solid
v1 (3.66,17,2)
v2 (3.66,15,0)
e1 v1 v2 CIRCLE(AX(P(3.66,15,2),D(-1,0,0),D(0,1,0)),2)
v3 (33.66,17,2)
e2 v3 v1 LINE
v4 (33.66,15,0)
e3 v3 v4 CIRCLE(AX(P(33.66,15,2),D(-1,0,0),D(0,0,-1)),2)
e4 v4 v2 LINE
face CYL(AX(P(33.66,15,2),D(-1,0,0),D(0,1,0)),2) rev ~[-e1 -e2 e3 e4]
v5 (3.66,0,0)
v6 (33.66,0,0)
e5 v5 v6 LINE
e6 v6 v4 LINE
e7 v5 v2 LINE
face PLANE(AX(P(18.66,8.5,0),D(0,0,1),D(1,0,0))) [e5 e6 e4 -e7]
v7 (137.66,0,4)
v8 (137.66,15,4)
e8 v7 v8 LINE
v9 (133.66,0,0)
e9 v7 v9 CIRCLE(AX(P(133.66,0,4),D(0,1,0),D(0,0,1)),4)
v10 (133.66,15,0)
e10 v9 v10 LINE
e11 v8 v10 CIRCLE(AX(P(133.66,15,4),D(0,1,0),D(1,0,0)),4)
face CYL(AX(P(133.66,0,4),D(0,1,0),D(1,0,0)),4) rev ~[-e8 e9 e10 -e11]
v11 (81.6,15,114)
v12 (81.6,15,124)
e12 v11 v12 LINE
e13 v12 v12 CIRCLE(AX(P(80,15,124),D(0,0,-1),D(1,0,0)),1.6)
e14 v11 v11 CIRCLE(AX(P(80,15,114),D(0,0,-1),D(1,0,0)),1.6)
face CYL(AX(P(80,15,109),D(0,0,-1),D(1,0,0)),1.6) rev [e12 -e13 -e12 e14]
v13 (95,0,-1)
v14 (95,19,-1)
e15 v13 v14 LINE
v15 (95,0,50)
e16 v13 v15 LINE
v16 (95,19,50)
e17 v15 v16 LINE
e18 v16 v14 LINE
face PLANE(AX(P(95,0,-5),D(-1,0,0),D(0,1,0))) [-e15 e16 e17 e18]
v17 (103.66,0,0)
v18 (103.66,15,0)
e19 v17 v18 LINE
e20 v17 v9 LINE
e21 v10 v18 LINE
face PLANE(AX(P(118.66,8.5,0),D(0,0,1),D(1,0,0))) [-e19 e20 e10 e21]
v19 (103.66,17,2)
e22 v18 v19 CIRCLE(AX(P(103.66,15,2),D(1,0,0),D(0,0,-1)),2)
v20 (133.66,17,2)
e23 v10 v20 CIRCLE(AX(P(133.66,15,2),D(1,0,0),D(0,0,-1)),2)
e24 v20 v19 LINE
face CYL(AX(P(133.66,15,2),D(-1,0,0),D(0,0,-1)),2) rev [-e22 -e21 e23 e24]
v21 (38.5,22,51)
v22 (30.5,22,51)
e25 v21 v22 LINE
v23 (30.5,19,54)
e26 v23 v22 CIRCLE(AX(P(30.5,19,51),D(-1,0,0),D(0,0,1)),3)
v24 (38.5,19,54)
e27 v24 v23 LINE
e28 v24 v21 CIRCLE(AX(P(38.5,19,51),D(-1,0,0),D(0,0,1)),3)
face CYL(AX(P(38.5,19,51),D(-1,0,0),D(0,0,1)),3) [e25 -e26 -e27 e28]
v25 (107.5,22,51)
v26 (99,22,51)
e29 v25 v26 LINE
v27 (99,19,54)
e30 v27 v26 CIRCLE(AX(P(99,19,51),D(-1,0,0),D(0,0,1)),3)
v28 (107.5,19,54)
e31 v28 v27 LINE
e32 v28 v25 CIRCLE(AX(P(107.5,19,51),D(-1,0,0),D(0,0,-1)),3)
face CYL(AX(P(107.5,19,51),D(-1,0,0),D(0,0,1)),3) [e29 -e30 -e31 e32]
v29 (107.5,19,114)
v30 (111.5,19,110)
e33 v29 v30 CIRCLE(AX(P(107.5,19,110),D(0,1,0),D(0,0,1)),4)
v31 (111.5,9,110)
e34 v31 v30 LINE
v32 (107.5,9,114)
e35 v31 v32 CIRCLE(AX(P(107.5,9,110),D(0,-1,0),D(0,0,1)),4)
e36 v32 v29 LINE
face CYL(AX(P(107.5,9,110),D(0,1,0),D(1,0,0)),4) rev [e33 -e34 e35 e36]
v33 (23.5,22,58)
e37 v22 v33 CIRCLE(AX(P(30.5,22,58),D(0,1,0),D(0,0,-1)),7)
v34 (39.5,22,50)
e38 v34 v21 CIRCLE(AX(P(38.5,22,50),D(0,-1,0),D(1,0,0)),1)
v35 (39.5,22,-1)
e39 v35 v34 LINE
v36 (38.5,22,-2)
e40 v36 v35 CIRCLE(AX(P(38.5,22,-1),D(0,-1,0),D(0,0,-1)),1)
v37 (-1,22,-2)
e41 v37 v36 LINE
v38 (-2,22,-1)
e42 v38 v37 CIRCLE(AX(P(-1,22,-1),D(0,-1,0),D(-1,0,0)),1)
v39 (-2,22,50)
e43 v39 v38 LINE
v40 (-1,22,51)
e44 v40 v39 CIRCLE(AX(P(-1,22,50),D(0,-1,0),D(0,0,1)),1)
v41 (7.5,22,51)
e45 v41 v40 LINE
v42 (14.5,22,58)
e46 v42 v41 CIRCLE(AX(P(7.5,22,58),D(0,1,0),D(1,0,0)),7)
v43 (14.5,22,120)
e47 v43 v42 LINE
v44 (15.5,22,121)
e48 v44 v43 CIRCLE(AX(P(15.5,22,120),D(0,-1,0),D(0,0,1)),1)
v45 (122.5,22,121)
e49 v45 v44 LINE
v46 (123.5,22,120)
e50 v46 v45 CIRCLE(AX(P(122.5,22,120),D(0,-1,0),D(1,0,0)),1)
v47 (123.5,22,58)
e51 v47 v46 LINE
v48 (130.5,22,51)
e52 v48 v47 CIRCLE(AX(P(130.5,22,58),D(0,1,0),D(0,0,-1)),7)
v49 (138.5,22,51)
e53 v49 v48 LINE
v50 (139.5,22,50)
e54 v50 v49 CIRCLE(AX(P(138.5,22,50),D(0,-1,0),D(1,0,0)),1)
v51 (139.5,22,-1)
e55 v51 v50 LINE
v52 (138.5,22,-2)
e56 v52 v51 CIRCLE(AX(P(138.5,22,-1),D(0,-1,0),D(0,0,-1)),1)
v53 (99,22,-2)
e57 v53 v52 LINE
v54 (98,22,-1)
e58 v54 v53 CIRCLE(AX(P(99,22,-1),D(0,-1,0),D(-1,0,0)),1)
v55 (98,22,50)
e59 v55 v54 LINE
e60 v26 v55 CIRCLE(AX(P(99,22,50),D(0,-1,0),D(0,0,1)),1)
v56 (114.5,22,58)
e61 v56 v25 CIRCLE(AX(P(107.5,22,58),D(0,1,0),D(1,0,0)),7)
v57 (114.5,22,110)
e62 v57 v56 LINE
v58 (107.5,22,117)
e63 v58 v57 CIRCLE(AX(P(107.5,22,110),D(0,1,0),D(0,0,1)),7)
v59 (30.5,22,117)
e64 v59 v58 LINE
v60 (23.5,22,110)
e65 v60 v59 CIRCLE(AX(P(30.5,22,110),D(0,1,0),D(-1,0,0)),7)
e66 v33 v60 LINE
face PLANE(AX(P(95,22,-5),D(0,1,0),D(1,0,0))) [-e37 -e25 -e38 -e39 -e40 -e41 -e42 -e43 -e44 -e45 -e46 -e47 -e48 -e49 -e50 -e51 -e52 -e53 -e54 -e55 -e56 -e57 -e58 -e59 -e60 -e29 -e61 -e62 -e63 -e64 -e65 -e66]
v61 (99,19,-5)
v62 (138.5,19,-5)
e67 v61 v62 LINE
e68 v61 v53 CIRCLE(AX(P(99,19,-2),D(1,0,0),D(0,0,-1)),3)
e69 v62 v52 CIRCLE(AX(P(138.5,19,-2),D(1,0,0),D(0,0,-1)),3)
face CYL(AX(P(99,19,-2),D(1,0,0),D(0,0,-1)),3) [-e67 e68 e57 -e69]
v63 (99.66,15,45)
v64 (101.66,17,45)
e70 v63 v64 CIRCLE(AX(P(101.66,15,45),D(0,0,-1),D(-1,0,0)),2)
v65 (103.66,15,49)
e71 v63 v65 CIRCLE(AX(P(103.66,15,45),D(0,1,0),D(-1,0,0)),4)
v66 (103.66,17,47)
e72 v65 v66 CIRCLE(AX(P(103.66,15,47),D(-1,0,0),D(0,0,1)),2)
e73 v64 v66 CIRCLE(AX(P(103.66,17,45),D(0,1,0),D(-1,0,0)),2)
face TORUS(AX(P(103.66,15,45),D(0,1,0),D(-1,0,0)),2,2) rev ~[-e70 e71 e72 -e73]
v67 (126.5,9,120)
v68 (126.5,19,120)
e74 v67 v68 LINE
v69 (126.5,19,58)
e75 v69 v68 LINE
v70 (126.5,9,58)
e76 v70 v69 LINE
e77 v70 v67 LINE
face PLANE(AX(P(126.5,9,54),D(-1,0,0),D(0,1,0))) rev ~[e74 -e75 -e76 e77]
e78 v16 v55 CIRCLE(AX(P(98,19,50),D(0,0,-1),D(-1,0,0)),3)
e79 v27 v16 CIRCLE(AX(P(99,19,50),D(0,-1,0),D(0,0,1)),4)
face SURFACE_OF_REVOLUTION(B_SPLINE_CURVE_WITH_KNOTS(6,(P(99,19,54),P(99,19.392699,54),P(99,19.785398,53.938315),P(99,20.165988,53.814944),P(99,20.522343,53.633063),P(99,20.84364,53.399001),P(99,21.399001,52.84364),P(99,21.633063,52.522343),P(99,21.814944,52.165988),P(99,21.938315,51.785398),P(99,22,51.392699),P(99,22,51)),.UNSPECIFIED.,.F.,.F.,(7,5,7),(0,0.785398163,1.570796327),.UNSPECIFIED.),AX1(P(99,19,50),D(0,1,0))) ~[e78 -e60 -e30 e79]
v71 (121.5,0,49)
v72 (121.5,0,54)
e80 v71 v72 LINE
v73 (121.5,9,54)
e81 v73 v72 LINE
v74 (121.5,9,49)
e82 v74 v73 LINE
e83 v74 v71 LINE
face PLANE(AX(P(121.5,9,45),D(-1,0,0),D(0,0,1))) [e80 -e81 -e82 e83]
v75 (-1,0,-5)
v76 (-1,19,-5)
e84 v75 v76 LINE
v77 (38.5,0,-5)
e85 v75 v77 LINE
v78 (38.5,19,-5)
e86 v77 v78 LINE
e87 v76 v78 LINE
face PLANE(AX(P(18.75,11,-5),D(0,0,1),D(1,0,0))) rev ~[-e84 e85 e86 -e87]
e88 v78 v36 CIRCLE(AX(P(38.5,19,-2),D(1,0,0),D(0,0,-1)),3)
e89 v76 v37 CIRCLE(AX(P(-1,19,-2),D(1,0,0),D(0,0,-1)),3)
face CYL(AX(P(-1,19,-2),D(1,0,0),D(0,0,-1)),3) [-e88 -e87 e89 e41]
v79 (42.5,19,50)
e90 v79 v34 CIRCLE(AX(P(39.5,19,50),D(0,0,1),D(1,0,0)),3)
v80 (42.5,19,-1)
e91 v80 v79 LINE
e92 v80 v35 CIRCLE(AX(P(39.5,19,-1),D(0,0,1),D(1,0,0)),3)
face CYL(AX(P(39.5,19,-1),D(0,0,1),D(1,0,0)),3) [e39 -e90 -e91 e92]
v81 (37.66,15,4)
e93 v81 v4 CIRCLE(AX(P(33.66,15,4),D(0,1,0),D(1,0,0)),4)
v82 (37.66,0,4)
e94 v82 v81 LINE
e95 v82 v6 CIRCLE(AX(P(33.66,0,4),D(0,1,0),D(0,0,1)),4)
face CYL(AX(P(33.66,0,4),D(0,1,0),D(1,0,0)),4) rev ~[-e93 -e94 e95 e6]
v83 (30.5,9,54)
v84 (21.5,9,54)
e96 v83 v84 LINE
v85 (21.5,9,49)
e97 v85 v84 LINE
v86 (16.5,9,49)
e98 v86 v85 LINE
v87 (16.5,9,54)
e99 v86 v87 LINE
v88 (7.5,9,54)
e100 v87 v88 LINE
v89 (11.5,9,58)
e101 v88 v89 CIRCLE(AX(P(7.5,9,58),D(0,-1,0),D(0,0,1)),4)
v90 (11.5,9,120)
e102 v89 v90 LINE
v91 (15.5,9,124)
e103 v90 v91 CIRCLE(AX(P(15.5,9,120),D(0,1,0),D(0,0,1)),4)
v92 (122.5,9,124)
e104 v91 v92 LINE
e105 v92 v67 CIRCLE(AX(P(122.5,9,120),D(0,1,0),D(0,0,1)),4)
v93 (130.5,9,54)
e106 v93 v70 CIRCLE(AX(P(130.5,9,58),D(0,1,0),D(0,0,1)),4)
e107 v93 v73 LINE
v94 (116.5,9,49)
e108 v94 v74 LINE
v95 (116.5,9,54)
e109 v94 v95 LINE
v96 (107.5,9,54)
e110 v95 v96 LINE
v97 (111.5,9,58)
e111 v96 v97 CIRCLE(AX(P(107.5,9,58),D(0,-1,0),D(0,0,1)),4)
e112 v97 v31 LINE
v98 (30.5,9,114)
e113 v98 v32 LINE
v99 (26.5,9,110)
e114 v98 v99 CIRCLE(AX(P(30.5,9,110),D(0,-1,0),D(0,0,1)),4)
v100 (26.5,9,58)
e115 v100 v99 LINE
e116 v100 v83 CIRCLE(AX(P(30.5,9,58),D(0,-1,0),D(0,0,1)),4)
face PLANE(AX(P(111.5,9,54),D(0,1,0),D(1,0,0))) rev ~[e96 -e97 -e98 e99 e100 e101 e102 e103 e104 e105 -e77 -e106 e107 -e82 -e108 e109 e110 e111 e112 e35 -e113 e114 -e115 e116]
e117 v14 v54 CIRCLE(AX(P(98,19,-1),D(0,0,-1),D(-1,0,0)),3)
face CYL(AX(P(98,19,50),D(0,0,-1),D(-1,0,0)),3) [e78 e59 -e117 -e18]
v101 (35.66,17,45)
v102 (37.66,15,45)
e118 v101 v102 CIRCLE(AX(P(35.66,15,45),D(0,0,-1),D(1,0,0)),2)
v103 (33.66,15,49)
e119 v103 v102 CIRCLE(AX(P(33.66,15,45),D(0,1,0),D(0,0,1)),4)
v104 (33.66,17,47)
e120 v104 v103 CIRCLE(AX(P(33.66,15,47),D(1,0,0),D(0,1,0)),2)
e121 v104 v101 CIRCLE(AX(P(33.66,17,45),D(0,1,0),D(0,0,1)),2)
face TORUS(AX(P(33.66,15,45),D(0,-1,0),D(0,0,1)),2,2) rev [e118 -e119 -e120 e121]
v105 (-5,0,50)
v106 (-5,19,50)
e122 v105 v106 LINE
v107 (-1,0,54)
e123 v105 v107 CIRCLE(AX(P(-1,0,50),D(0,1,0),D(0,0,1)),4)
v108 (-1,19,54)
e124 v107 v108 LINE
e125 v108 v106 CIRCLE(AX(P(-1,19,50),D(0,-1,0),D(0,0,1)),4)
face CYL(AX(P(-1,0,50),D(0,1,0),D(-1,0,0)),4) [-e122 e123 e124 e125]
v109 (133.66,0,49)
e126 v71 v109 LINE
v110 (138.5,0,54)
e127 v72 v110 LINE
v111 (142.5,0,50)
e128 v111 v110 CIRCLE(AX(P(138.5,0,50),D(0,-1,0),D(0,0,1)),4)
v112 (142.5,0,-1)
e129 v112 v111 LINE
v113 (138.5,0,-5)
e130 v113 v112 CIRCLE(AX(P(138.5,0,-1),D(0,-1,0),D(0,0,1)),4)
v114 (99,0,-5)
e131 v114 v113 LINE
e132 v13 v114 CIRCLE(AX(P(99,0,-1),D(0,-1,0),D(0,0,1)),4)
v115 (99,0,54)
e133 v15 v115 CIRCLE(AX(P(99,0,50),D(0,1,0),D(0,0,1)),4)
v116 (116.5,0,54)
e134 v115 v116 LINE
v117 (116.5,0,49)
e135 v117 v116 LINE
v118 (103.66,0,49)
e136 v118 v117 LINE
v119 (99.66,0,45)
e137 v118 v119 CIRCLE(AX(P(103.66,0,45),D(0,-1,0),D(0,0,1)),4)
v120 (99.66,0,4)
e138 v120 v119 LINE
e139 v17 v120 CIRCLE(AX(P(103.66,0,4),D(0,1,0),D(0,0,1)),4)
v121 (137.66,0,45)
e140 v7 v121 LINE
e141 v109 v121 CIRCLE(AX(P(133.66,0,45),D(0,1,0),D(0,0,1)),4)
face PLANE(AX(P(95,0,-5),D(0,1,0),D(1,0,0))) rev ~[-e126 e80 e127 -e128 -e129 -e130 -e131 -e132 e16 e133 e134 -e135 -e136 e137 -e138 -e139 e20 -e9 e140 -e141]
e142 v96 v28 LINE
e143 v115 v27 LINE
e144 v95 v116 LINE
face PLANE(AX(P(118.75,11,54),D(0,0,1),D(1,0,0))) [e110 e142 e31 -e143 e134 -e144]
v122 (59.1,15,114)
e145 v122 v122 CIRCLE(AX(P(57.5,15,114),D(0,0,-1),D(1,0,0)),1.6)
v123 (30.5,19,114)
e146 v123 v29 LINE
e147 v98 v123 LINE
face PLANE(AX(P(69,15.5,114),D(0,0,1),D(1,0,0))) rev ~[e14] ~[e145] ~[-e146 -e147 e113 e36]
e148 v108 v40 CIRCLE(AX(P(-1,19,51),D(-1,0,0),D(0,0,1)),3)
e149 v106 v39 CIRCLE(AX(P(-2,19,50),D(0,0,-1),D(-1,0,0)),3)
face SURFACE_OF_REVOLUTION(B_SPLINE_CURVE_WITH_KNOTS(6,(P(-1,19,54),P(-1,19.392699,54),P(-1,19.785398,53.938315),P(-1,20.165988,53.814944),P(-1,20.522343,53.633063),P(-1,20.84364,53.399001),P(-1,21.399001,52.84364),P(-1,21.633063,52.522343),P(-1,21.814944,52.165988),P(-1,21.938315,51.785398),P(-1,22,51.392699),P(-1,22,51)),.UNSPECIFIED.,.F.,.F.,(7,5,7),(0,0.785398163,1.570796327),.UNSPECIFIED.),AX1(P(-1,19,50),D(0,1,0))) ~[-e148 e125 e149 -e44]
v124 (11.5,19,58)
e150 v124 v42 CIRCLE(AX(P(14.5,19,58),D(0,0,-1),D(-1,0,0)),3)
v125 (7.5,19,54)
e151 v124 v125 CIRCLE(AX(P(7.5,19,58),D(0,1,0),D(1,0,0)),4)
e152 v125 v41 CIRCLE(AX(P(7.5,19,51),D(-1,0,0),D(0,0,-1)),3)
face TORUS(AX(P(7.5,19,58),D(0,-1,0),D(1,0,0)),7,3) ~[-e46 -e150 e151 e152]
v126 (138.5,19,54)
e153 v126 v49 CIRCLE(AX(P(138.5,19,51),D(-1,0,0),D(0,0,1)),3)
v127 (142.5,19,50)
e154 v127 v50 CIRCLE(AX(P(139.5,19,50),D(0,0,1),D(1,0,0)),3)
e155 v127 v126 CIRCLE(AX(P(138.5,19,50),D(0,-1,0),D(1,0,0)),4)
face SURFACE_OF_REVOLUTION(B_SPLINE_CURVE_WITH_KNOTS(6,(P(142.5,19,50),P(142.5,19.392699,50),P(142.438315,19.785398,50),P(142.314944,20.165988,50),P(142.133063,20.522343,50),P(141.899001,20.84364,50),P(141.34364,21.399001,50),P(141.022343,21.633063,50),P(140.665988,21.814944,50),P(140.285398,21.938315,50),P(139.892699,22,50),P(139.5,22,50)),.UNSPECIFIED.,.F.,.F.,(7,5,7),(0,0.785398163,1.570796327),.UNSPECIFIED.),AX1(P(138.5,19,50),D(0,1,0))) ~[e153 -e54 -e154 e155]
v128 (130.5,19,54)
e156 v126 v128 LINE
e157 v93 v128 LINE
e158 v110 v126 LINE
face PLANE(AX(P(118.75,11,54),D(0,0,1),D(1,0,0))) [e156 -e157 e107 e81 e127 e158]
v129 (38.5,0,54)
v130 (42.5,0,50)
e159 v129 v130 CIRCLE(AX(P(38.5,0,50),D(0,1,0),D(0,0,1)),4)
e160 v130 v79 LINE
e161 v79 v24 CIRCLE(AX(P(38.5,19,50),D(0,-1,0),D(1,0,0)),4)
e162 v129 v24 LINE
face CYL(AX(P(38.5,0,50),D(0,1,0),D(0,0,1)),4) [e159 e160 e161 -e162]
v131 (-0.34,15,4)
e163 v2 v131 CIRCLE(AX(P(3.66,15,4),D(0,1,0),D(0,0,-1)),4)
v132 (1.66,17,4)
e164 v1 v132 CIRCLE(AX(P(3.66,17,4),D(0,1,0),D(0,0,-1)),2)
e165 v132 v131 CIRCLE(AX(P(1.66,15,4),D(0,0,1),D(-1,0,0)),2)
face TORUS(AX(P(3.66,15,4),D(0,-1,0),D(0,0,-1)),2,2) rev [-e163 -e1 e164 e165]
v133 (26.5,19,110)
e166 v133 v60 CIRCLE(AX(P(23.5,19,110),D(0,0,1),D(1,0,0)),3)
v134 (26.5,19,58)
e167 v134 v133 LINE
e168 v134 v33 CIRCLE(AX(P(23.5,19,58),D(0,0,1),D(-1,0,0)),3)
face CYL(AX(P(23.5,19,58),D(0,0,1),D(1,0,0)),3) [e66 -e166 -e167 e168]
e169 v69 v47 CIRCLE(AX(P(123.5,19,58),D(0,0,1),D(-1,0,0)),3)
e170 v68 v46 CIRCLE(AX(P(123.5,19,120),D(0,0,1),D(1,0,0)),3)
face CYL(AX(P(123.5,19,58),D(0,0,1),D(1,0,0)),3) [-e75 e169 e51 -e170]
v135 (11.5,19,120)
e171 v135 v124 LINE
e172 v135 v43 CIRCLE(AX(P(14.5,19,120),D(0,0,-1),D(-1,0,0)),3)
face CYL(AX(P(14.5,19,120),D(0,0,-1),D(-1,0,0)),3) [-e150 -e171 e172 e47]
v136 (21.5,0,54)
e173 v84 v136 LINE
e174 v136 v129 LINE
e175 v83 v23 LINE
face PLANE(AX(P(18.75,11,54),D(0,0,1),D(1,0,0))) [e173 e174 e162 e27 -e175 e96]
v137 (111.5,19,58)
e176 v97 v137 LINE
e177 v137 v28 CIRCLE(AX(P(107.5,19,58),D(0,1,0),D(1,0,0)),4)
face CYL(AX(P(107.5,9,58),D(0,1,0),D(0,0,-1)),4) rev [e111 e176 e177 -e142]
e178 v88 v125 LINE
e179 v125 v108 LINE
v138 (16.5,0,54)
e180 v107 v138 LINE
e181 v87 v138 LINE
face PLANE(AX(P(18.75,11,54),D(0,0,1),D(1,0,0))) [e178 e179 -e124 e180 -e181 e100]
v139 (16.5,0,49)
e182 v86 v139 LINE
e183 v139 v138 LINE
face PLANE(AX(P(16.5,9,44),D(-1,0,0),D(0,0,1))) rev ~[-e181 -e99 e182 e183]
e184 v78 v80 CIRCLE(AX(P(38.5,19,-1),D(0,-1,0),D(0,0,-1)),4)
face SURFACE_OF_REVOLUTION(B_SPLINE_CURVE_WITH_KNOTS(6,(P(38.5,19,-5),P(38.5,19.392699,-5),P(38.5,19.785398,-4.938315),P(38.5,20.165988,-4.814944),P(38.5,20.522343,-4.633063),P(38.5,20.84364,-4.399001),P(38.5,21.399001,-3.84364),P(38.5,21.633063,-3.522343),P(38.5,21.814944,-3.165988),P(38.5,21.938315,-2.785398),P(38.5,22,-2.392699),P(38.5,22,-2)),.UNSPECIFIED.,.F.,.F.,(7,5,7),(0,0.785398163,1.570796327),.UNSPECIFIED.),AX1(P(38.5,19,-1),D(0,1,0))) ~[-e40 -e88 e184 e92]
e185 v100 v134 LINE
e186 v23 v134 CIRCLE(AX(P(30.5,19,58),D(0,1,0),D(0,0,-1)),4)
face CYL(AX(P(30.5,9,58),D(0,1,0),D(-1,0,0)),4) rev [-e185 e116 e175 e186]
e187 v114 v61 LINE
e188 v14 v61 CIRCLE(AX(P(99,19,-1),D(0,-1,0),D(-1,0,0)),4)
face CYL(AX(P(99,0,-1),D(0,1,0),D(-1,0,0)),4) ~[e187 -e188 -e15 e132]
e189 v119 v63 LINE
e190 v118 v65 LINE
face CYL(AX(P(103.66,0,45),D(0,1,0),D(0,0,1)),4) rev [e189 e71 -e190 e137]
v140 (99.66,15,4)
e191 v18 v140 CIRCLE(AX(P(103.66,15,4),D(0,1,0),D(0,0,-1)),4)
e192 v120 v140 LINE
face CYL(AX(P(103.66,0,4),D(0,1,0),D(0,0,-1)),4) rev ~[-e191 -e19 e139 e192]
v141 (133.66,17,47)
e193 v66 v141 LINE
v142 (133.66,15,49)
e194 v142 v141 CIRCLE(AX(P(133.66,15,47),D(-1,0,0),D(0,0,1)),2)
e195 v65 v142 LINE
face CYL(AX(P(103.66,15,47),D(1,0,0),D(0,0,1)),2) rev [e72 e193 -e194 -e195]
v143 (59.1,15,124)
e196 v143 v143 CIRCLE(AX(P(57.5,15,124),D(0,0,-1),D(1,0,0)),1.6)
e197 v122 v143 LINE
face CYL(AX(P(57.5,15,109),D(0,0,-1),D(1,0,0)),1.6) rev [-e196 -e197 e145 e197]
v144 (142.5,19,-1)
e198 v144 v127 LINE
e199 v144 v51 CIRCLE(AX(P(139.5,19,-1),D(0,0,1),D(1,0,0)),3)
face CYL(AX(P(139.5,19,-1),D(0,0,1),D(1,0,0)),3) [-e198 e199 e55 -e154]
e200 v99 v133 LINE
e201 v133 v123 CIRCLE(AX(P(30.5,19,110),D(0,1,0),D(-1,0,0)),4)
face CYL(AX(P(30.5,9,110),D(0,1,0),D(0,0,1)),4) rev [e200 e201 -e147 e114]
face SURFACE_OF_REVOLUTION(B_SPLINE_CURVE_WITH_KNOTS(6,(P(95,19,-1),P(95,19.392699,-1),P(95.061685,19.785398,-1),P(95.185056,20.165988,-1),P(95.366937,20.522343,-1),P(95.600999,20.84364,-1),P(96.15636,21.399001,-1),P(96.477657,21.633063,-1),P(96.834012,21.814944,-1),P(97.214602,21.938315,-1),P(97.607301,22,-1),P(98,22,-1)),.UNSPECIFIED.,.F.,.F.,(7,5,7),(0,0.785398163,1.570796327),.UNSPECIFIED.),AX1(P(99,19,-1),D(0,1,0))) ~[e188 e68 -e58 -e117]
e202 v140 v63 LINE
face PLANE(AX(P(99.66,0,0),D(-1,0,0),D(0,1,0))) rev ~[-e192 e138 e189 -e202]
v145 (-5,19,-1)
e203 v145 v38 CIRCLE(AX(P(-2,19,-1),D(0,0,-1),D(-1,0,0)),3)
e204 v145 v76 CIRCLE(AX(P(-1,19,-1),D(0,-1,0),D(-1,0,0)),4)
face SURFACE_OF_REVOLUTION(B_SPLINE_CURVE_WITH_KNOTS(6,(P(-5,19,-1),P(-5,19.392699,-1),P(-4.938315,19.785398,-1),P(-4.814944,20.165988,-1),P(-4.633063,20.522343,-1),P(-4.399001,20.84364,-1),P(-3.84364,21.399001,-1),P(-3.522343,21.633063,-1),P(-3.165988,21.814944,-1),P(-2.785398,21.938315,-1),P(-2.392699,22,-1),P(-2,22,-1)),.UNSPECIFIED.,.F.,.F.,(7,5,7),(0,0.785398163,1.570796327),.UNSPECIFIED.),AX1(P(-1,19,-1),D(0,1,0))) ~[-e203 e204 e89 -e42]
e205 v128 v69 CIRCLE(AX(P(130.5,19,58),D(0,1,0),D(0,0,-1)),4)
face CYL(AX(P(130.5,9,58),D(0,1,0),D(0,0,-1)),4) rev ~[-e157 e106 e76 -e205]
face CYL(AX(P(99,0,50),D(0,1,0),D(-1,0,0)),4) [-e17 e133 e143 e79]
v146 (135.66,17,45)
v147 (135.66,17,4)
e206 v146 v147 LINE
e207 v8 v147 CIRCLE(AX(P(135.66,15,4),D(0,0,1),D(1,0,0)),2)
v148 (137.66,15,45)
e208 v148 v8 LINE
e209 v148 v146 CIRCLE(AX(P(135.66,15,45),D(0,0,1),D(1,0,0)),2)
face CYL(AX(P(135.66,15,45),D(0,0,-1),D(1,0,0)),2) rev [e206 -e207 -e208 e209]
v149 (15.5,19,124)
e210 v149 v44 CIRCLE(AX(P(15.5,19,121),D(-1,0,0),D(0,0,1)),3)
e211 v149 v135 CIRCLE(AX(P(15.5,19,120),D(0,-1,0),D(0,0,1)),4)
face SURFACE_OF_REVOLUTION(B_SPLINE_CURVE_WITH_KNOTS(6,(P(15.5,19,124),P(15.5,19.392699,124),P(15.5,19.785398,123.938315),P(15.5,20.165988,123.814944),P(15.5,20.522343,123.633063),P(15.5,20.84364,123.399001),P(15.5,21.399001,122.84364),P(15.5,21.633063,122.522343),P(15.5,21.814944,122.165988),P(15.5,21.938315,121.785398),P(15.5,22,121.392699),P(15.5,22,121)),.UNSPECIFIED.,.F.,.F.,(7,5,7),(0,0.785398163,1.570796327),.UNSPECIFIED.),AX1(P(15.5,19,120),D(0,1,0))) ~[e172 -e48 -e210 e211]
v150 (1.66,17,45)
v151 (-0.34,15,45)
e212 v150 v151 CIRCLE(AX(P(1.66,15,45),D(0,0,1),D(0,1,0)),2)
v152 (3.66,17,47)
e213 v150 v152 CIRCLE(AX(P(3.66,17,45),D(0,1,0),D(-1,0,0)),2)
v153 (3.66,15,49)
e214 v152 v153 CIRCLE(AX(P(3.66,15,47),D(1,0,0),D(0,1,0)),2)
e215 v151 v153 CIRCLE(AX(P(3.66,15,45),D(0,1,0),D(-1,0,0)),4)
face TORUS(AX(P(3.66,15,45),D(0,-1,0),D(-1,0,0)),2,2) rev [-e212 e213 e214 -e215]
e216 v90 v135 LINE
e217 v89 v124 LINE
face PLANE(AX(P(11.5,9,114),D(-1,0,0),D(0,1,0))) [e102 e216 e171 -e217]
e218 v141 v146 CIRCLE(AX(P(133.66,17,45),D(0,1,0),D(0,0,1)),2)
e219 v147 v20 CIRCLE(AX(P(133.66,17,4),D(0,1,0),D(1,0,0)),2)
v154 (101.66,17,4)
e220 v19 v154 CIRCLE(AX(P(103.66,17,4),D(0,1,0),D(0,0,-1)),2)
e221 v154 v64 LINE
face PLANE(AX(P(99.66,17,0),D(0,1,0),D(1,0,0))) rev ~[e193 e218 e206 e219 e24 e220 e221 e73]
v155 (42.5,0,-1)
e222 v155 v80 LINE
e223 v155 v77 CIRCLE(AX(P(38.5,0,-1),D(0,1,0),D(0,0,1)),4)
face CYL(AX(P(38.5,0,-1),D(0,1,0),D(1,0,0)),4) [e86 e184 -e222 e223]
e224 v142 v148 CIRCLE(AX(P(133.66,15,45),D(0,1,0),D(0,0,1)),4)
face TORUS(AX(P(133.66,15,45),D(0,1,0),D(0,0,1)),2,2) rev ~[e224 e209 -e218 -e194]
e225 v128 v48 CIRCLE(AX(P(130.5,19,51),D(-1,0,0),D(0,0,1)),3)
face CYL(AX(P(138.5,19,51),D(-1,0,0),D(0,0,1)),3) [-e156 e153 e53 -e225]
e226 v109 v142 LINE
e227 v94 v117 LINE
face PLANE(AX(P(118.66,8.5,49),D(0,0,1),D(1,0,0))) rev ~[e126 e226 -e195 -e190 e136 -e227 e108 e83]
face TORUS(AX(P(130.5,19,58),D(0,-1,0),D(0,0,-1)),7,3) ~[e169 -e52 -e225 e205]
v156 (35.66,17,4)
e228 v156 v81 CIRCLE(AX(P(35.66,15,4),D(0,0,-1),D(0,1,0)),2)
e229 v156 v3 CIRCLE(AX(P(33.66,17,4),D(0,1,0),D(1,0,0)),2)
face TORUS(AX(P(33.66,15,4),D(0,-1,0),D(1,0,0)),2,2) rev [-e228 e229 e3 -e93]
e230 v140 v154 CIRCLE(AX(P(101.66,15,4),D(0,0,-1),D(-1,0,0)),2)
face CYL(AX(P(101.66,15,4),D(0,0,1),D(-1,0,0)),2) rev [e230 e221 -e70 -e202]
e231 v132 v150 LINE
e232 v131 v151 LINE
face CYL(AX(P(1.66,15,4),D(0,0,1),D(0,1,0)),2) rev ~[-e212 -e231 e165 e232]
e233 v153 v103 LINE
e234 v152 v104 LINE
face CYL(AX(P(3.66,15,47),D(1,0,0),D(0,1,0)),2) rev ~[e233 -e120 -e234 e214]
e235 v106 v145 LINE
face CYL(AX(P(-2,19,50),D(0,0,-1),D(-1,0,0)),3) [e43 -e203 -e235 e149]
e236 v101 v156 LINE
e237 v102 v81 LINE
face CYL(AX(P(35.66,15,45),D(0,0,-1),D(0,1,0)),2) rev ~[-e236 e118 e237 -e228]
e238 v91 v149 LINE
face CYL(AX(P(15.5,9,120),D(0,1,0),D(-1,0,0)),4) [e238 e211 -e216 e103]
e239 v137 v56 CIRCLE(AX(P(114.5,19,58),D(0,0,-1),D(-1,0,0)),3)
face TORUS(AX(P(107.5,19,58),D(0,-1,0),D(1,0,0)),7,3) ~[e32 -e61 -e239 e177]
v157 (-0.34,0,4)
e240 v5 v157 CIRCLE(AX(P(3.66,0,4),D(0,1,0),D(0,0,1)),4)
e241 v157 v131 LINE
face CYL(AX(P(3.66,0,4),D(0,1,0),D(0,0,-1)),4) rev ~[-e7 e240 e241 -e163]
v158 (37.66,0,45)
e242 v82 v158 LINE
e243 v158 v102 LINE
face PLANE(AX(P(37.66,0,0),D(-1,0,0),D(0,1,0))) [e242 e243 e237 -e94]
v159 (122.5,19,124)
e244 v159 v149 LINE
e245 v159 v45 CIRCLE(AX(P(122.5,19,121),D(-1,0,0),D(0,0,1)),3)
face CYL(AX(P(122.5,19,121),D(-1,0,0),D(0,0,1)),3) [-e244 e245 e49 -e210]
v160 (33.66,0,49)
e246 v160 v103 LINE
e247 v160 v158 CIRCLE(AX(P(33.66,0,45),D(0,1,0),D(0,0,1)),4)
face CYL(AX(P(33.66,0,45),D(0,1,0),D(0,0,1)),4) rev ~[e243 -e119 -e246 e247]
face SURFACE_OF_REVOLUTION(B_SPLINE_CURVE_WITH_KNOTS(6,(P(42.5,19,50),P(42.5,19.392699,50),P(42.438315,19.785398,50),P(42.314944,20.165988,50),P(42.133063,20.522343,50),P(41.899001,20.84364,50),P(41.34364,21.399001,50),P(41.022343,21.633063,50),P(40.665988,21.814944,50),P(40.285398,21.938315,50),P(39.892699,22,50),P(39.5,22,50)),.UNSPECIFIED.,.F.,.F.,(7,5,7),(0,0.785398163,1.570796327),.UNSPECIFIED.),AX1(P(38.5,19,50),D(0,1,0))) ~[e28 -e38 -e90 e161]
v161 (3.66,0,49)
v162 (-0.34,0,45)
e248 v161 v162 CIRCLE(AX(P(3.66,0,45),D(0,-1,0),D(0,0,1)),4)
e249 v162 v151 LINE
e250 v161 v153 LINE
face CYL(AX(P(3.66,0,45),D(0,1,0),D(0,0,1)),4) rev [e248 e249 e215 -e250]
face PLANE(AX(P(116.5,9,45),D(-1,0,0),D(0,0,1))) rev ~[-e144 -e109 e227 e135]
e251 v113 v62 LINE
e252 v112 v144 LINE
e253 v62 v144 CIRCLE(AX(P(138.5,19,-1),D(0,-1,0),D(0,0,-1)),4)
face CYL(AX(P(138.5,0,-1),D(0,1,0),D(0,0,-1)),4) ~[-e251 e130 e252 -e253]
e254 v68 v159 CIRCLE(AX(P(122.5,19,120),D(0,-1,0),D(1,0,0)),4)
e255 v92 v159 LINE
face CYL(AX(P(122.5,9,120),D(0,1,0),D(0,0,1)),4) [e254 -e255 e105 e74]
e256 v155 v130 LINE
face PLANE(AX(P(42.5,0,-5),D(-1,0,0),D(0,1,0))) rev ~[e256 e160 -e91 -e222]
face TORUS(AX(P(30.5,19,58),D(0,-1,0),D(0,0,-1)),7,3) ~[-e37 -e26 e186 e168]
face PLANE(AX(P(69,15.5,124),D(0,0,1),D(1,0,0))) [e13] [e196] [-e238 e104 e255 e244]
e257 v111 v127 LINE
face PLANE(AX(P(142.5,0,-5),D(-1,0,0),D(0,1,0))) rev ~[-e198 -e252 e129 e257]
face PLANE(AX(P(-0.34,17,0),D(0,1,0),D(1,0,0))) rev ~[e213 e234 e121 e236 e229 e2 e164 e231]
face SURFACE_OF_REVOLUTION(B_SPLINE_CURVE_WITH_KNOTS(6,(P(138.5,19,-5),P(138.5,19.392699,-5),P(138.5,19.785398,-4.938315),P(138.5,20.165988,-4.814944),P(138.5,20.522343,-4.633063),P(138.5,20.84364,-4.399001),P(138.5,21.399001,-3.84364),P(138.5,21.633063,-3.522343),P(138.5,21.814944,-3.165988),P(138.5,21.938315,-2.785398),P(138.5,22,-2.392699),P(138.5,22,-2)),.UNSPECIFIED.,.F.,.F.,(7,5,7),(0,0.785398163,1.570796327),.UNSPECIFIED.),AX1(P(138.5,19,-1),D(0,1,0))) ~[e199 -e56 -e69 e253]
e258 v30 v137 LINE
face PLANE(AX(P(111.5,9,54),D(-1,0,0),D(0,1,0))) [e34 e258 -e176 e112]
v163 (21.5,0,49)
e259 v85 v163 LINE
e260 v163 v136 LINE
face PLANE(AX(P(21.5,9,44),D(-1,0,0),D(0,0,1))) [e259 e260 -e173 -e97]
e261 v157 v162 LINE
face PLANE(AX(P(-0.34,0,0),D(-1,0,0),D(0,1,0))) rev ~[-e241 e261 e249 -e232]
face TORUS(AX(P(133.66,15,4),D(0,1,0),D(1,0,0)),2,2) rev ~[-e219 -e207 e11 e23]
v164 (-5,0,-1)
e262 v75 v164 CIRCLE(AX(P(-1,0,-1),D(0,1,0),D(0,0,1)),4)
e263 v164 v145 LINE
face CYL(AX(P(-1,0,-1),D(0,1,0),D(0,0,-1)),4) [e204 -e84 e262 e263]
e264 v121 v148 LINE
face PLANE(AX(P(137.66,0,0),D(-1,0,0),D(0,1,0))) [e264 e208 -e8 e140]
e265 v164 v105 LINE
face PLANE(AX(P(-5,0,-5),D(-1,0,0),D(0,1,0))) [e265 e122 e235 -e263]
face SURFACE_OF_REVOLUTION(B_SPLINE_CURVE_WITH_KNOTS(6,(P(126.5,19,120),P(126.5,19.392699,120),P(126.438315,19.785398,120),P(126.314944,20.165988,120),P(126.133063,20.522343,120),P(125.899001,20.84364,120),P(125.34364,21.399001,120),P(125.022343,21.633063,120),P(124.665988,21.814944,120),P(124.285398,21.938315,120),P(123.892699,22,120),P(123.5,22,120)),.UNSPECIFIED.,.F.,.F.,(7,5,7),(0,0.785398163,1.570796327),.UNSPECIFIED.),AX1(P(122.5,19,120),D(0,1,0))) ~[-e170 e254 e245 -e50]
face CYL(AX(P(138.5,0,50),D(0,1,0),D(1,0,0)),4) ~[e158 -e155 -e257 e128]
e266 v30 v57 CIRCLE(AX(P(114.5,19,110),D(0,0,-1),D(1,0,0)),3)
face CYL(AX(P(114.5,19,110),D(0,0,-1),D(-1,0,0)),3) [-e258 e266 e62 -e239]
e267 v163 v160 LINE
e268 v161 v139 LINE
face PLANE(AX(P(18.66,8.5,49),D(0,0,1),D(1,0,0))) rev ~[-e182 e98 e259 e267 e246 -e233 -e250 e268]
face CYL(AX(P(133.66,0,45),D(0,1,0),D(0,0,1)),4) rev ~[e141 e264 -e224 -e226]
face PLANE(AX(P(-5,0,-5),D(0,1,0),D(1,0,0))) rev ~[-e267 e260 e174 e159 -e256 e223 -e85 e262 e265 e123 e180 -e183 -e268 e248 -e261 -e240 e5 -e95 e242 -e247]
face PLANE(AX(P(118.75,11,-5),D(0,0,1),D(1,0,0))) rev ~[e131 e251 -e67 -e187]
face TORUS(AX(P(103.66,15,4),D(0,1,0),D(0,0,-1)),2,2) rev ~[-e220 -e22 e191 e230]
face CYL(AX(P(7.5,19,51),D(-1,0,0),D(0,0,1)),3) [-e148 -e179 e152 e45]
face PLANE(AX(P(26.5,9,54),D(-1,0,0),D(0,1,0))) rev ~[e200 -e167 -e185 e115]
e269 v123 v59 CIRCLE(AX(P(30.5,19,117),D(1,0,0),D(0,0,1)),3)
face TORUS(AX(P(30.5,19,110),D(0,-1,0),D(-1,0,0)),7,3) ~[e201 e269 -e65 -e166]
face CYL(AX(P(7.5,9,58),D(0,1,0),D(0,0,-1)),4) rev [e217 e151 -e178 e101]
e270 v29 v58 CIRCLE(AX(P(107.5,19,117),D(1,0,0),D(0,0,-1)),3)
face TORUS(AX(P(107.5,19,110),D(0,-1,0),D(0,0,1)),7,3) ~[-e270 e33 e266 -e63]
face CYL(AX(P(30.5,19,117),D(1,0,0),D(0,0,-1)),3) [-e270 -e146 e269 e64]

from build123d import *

# Parameters (mm, degrees)
SKETCH001_W       = 5
SKETCH001_H       = 10
SKETCH001_H_2     = 9
EXTRUDE_DEPTH     = 10
CYLINDER001_R     = 1.6
CYLINDER001_DEPTH = 20
CYLINDER002_R     = 1.6
CYLINDER002_DEPTH = 20
CYLINDER003_R     = 1.6
CYLINDER003_DEPTH = 20
CYLINDER_R        = 1.6
CYLINDER_DEPTH    = 20
BOX002_W          = 38
BOX002_H          = 17
BOX002_DEPTH      = 49
BOX003_W          = 47.5
BOX003_H          = 22
BOX003_DEPTH      = 59
BOX013_W          = 38
BOX013_H          = 17
BOX013_DEPTH      = 49
BOX014_W          = 47.5
BOX014_H          = 22
BOX014_DEPTH      = 59
BOX011_W          = 115
BOX011_H          = 13
BOX011_DEPTH      = 10
BOX012_W          = 15
BOX012_H          = 13
BOX012_DEPTH      = 60
BOX009_W          = 15
BOX009_H          = 13
BOX009_DEPTH      = 60
FILLET_R          = 4
FILLET001_R       = 2
FILLET002_R       = 3


with BuildPart() as extrude_body:
    # Sketch001 → Extrude (new body)
    with BuildSketch(Plane.XZ.offset(48)):
        with Locations((19, 4)):
            Rectangle(SKETCH001_W, SKETCH001_H)
        with Locations((119, 4.5)):
            Rectangle(SKETCH001_W, SKETCH001_H_2)
    extrude(amount=EXTRUDE_DEPTH)


with BuildPart() as extrude_body_1:
    # Extrude placement: moved
    add(extrude_body.part.moved(Location((0, 57, 45))))


with BuildPart() as cylinder001:
    # Cylinder001 → Cylinder001 (new body)
    with BuildSketch(Plane(origin=(80, 15, 109), x_dir=(1, 0, 0), z_dir=(0, 0, 1))):
        Circle(CYLINDER001_R)
    extrude(amount=CYLINDER001_DEPTH)


with BuildPart() as cylinder002:
    # Cylinder002 → Cylinder002 (new body)
    with BuildSketch(Plane(origin=(57.5, 32, 109), x_dir=(1, 0, 0), z_dir=(0, 0, 1))):
        Circle(CYLINDER002_R)
    extrude(amount=CYLINDER002_DEPTH)


with BuildPart() as cylinder003:
    # Cylinder003 → Cylinder003 (new body)
    with BuildSketch(Plane(origin=(80, 32, 109), x_dir=(1, 0, 0), z_dir=(0, 0, 1))):
        Circle(CYLINDER003_R)
    extrude(amount=CYLINDER003_DEPTH)


with BuildPart() as m3_cyl:
    # Cylinder → Cylinder (new body)
    with BuildSketch(Plane(origin=(57.5, 15, 109), x_dir=(1, 0, 0), z_dir=(0, 0, 1))):
        Circle(CYLINDER_R)
    extrude(amount=CYLINDER_DEPTH)

    # Fusion004: union Cylinder001, Cylinder002, Cylinder003
    add(cylinder001.part)
    add(cylinder002.part)
    add(cylinder003.part)


with BuildPart() as cube002:
    # Box002 → Box002 (new body)
    with BuildSketch(Plane(origin=(-0.34, 0, 0), x_dir=(1, 0, 0), z_dir=(0, 0, 1))):
        with Locations((19, 8.5)):
            Rectangle(BOX002_W, BOX002_H)
    extrude(amount=BOX002_DEPTH)


with BuildPart() as hollow_cubebase:
    # Box003 → Box003 (new body)
    with BuildSketch(Plane(origin=(-5, 0, -5), x_dir=(1, 0, 0), z_dir=(0, 0, 1))):
        with Locations((23.75, 11)):
            Rectangle(BOX003_W, BOX003_H)
    extrude(amount=BOX003_DEPTH)

    # Cut: cut Cube002
    add(cube002.part, mode=Mode.SUBTRACT)


with BuildPart() as cube006:
    # Box013 → Box013 (new body)
    with BuildSketch(Plane(origin=(-0.34, 0, 0), x_dir=(1, 0, 0), z_dir=(0, 0, 1))):
        with Locations((19, 8.5)):
            Rectangle(BOX013_W, BOX013_H)
    extrude(amount=BOX013_DEPTH)


with BuildPart() as hollow_cubebase001:
    # Box014 → Box014 (new body)
    with BuildSketch(Plane(origin=(-5, 0, -5), x_dir=(1, 0, 0), z_dir=(0, 0, 1))):
        with Locations((23.75, 11)):
            Rectangle(BOX014_W, BOX014_H)
    extrude(amount=BOX014_DEPTH)

    # Cut002: cut Cube006
    add(cube006.part, mode=Mode.SUBTRACT)


with BuildPart() as hollow_cubebase001_1:
    # Cut002 placement: moved
    add(hollow_cubebase001.part.moved(Location((100, 0, 0))))


with BuildPart() as base:
    # Box011 → Box011 (new body)
    with BuildSketch(Plane(origin=(11.5, 9, 114), x_dir=(1, 0, 0), z_dir=(0, 0, 1))):
        with Locations((57.5, 6.5)):
            Rectangle(BOX011_W, BOX011_H)
    extrude(amount=BOX011_DEPTH)


with BuildPart() as stand002:
    # Box012 → Box012 (new body)
    with BuildSketch(Plane(origin=(111.5, 9, 54), x_dir=(1, 0, 0), z_dir=(0, 0, 1))):
        with Locations((7.5, 6.5)):
            Rectangle(BOX012_W, BOX012_H)
    extrude(amount=BOX012_DEPTH)


with BuildPart() as gpsholder005:
    # Box009 → Box009 (new body)
    with BuildSketch(Plane(origin=(11.5, 9, 54), x_dir=(1, 0, 0), z_dir=(0, 0, 1))):
        with Locations((7.5, 6.5)):
            Rectangle(BOX009_W, BOX009_H)
    extrude(amount=BOX009_DEPTH)

    # Fusion005: union base, stand002
    add(base.part)
    add(stand002.part)

    # Fusion: union Hollow_CubeBase, Hollow_CubeBase001
    add(hollow_cubebase.part)
    add(hollow_cubebase001_1.part)

    # Cut007: cut m3_cyl
    add(m3_cyl.part, mode=Mode.SUBTRACT)

    # Cut011: cut Extrude body
    add(extrude_body_1.part, mode=Mode.SUBTRACT)

    # Fillet
    fillet_edges = [gpsholder005.edges().sort_by_distance(p)[0] for p in [
        (11.5, 15.5, 124),
        (126.5, 15.5, 124),
        (11.5, 15.5, 54),
        (126.5, 15.5, 54),
        (-5, 11, 54),
        (111.5, 15.5, 114),
        (111.5, 15.5, 54),
        (26.5, 15.5, 114),
        (26.5, 15.5, 54),
        (42.5, 11, 54),
        (95, 11, 54),
        (142.5, 11, 54),
        (-5, 11, -5),
        (42.5, 11, -5),
        (95, 11, -5),
        (142.5, 11, -5),
        (-0.34, 8.5, 49),
        (37.66, 8.5, 49),
        (99.66, 8.5, 49),
        (137.66, 8.5, 49),
        (37.66, 8.5, 0),
        (-0.34, 8.5, 0),
        (137.66, 8.5, 0),
        (99.66, 8.5, 0),
    ]]
    fillet(fillet_edges, radius=FILLET_R)

    # Fillet001
    fillet001_edges = [gpsholder005.edges().sort_by_distance(p)[0] for p in [
        (18.66, 17, 49),
        (118.66, 17, 49),
        (36.488427, 17, 47.828427),
        (37.66, 17, 24.5),
        (36.488427, 17, 1.171573),
        (18.66, 17, 0),
        (0.831573, 17, 47.828427),
        (0.831573, 17, 1.171573),
        (-0.34, 17, 24.5),
        (136.488427, 17, 47.828427),
        (137.66, 17, 24.5),
        (136.488427, 17, 1.171573),
        (118.66, 17, 0),
        (100.831573, 17, 47.828427),
        (100.831573, 17, 1.171573),
        (99.66, 17, 24.5),
    ]]
    fillet(fillet001_edges, radius=FILLET001_R)

    # Fillet002
    fillet002_edges = [gpsholder005.edges().sort_by_distance(p)[0] for p in [
        (42.5, 22, 24.5),
        (41.328427, 22, -3.828427),
        (41.328427, 22, 52.828427),
        (18.75, 22, -5),
        (34.5, 22, 54),
        (-3.828427, 22, -3.828427),
        (-5, 22, 24.5),
        (-3.828427, 22, 52.828427),
        (3.25, 22, 54),
        (9.5, 22, 54),
        (28.5, 22, 54),
        (19, 22, 54),
        (103.25, 22, 54),
        (134.5, 22, 54),
        (128.5, 22, 54),
        (119, 22, 54),
        (109.5, 22, 54),
        (118.75, 22, -5),
        (96.171573, 22, -3.828427),
        (141.328427, 22, -3.828427),
        (95, 22, 24.5),
        (142.5, 22, 24.5),
        (96.171573, 22, 52.828427),
        (141.328427, 22, 52.828427),
    ]]
    fillet(fillet002_edges, radius=FILLET002_R)


solid = gpsholder005.part
